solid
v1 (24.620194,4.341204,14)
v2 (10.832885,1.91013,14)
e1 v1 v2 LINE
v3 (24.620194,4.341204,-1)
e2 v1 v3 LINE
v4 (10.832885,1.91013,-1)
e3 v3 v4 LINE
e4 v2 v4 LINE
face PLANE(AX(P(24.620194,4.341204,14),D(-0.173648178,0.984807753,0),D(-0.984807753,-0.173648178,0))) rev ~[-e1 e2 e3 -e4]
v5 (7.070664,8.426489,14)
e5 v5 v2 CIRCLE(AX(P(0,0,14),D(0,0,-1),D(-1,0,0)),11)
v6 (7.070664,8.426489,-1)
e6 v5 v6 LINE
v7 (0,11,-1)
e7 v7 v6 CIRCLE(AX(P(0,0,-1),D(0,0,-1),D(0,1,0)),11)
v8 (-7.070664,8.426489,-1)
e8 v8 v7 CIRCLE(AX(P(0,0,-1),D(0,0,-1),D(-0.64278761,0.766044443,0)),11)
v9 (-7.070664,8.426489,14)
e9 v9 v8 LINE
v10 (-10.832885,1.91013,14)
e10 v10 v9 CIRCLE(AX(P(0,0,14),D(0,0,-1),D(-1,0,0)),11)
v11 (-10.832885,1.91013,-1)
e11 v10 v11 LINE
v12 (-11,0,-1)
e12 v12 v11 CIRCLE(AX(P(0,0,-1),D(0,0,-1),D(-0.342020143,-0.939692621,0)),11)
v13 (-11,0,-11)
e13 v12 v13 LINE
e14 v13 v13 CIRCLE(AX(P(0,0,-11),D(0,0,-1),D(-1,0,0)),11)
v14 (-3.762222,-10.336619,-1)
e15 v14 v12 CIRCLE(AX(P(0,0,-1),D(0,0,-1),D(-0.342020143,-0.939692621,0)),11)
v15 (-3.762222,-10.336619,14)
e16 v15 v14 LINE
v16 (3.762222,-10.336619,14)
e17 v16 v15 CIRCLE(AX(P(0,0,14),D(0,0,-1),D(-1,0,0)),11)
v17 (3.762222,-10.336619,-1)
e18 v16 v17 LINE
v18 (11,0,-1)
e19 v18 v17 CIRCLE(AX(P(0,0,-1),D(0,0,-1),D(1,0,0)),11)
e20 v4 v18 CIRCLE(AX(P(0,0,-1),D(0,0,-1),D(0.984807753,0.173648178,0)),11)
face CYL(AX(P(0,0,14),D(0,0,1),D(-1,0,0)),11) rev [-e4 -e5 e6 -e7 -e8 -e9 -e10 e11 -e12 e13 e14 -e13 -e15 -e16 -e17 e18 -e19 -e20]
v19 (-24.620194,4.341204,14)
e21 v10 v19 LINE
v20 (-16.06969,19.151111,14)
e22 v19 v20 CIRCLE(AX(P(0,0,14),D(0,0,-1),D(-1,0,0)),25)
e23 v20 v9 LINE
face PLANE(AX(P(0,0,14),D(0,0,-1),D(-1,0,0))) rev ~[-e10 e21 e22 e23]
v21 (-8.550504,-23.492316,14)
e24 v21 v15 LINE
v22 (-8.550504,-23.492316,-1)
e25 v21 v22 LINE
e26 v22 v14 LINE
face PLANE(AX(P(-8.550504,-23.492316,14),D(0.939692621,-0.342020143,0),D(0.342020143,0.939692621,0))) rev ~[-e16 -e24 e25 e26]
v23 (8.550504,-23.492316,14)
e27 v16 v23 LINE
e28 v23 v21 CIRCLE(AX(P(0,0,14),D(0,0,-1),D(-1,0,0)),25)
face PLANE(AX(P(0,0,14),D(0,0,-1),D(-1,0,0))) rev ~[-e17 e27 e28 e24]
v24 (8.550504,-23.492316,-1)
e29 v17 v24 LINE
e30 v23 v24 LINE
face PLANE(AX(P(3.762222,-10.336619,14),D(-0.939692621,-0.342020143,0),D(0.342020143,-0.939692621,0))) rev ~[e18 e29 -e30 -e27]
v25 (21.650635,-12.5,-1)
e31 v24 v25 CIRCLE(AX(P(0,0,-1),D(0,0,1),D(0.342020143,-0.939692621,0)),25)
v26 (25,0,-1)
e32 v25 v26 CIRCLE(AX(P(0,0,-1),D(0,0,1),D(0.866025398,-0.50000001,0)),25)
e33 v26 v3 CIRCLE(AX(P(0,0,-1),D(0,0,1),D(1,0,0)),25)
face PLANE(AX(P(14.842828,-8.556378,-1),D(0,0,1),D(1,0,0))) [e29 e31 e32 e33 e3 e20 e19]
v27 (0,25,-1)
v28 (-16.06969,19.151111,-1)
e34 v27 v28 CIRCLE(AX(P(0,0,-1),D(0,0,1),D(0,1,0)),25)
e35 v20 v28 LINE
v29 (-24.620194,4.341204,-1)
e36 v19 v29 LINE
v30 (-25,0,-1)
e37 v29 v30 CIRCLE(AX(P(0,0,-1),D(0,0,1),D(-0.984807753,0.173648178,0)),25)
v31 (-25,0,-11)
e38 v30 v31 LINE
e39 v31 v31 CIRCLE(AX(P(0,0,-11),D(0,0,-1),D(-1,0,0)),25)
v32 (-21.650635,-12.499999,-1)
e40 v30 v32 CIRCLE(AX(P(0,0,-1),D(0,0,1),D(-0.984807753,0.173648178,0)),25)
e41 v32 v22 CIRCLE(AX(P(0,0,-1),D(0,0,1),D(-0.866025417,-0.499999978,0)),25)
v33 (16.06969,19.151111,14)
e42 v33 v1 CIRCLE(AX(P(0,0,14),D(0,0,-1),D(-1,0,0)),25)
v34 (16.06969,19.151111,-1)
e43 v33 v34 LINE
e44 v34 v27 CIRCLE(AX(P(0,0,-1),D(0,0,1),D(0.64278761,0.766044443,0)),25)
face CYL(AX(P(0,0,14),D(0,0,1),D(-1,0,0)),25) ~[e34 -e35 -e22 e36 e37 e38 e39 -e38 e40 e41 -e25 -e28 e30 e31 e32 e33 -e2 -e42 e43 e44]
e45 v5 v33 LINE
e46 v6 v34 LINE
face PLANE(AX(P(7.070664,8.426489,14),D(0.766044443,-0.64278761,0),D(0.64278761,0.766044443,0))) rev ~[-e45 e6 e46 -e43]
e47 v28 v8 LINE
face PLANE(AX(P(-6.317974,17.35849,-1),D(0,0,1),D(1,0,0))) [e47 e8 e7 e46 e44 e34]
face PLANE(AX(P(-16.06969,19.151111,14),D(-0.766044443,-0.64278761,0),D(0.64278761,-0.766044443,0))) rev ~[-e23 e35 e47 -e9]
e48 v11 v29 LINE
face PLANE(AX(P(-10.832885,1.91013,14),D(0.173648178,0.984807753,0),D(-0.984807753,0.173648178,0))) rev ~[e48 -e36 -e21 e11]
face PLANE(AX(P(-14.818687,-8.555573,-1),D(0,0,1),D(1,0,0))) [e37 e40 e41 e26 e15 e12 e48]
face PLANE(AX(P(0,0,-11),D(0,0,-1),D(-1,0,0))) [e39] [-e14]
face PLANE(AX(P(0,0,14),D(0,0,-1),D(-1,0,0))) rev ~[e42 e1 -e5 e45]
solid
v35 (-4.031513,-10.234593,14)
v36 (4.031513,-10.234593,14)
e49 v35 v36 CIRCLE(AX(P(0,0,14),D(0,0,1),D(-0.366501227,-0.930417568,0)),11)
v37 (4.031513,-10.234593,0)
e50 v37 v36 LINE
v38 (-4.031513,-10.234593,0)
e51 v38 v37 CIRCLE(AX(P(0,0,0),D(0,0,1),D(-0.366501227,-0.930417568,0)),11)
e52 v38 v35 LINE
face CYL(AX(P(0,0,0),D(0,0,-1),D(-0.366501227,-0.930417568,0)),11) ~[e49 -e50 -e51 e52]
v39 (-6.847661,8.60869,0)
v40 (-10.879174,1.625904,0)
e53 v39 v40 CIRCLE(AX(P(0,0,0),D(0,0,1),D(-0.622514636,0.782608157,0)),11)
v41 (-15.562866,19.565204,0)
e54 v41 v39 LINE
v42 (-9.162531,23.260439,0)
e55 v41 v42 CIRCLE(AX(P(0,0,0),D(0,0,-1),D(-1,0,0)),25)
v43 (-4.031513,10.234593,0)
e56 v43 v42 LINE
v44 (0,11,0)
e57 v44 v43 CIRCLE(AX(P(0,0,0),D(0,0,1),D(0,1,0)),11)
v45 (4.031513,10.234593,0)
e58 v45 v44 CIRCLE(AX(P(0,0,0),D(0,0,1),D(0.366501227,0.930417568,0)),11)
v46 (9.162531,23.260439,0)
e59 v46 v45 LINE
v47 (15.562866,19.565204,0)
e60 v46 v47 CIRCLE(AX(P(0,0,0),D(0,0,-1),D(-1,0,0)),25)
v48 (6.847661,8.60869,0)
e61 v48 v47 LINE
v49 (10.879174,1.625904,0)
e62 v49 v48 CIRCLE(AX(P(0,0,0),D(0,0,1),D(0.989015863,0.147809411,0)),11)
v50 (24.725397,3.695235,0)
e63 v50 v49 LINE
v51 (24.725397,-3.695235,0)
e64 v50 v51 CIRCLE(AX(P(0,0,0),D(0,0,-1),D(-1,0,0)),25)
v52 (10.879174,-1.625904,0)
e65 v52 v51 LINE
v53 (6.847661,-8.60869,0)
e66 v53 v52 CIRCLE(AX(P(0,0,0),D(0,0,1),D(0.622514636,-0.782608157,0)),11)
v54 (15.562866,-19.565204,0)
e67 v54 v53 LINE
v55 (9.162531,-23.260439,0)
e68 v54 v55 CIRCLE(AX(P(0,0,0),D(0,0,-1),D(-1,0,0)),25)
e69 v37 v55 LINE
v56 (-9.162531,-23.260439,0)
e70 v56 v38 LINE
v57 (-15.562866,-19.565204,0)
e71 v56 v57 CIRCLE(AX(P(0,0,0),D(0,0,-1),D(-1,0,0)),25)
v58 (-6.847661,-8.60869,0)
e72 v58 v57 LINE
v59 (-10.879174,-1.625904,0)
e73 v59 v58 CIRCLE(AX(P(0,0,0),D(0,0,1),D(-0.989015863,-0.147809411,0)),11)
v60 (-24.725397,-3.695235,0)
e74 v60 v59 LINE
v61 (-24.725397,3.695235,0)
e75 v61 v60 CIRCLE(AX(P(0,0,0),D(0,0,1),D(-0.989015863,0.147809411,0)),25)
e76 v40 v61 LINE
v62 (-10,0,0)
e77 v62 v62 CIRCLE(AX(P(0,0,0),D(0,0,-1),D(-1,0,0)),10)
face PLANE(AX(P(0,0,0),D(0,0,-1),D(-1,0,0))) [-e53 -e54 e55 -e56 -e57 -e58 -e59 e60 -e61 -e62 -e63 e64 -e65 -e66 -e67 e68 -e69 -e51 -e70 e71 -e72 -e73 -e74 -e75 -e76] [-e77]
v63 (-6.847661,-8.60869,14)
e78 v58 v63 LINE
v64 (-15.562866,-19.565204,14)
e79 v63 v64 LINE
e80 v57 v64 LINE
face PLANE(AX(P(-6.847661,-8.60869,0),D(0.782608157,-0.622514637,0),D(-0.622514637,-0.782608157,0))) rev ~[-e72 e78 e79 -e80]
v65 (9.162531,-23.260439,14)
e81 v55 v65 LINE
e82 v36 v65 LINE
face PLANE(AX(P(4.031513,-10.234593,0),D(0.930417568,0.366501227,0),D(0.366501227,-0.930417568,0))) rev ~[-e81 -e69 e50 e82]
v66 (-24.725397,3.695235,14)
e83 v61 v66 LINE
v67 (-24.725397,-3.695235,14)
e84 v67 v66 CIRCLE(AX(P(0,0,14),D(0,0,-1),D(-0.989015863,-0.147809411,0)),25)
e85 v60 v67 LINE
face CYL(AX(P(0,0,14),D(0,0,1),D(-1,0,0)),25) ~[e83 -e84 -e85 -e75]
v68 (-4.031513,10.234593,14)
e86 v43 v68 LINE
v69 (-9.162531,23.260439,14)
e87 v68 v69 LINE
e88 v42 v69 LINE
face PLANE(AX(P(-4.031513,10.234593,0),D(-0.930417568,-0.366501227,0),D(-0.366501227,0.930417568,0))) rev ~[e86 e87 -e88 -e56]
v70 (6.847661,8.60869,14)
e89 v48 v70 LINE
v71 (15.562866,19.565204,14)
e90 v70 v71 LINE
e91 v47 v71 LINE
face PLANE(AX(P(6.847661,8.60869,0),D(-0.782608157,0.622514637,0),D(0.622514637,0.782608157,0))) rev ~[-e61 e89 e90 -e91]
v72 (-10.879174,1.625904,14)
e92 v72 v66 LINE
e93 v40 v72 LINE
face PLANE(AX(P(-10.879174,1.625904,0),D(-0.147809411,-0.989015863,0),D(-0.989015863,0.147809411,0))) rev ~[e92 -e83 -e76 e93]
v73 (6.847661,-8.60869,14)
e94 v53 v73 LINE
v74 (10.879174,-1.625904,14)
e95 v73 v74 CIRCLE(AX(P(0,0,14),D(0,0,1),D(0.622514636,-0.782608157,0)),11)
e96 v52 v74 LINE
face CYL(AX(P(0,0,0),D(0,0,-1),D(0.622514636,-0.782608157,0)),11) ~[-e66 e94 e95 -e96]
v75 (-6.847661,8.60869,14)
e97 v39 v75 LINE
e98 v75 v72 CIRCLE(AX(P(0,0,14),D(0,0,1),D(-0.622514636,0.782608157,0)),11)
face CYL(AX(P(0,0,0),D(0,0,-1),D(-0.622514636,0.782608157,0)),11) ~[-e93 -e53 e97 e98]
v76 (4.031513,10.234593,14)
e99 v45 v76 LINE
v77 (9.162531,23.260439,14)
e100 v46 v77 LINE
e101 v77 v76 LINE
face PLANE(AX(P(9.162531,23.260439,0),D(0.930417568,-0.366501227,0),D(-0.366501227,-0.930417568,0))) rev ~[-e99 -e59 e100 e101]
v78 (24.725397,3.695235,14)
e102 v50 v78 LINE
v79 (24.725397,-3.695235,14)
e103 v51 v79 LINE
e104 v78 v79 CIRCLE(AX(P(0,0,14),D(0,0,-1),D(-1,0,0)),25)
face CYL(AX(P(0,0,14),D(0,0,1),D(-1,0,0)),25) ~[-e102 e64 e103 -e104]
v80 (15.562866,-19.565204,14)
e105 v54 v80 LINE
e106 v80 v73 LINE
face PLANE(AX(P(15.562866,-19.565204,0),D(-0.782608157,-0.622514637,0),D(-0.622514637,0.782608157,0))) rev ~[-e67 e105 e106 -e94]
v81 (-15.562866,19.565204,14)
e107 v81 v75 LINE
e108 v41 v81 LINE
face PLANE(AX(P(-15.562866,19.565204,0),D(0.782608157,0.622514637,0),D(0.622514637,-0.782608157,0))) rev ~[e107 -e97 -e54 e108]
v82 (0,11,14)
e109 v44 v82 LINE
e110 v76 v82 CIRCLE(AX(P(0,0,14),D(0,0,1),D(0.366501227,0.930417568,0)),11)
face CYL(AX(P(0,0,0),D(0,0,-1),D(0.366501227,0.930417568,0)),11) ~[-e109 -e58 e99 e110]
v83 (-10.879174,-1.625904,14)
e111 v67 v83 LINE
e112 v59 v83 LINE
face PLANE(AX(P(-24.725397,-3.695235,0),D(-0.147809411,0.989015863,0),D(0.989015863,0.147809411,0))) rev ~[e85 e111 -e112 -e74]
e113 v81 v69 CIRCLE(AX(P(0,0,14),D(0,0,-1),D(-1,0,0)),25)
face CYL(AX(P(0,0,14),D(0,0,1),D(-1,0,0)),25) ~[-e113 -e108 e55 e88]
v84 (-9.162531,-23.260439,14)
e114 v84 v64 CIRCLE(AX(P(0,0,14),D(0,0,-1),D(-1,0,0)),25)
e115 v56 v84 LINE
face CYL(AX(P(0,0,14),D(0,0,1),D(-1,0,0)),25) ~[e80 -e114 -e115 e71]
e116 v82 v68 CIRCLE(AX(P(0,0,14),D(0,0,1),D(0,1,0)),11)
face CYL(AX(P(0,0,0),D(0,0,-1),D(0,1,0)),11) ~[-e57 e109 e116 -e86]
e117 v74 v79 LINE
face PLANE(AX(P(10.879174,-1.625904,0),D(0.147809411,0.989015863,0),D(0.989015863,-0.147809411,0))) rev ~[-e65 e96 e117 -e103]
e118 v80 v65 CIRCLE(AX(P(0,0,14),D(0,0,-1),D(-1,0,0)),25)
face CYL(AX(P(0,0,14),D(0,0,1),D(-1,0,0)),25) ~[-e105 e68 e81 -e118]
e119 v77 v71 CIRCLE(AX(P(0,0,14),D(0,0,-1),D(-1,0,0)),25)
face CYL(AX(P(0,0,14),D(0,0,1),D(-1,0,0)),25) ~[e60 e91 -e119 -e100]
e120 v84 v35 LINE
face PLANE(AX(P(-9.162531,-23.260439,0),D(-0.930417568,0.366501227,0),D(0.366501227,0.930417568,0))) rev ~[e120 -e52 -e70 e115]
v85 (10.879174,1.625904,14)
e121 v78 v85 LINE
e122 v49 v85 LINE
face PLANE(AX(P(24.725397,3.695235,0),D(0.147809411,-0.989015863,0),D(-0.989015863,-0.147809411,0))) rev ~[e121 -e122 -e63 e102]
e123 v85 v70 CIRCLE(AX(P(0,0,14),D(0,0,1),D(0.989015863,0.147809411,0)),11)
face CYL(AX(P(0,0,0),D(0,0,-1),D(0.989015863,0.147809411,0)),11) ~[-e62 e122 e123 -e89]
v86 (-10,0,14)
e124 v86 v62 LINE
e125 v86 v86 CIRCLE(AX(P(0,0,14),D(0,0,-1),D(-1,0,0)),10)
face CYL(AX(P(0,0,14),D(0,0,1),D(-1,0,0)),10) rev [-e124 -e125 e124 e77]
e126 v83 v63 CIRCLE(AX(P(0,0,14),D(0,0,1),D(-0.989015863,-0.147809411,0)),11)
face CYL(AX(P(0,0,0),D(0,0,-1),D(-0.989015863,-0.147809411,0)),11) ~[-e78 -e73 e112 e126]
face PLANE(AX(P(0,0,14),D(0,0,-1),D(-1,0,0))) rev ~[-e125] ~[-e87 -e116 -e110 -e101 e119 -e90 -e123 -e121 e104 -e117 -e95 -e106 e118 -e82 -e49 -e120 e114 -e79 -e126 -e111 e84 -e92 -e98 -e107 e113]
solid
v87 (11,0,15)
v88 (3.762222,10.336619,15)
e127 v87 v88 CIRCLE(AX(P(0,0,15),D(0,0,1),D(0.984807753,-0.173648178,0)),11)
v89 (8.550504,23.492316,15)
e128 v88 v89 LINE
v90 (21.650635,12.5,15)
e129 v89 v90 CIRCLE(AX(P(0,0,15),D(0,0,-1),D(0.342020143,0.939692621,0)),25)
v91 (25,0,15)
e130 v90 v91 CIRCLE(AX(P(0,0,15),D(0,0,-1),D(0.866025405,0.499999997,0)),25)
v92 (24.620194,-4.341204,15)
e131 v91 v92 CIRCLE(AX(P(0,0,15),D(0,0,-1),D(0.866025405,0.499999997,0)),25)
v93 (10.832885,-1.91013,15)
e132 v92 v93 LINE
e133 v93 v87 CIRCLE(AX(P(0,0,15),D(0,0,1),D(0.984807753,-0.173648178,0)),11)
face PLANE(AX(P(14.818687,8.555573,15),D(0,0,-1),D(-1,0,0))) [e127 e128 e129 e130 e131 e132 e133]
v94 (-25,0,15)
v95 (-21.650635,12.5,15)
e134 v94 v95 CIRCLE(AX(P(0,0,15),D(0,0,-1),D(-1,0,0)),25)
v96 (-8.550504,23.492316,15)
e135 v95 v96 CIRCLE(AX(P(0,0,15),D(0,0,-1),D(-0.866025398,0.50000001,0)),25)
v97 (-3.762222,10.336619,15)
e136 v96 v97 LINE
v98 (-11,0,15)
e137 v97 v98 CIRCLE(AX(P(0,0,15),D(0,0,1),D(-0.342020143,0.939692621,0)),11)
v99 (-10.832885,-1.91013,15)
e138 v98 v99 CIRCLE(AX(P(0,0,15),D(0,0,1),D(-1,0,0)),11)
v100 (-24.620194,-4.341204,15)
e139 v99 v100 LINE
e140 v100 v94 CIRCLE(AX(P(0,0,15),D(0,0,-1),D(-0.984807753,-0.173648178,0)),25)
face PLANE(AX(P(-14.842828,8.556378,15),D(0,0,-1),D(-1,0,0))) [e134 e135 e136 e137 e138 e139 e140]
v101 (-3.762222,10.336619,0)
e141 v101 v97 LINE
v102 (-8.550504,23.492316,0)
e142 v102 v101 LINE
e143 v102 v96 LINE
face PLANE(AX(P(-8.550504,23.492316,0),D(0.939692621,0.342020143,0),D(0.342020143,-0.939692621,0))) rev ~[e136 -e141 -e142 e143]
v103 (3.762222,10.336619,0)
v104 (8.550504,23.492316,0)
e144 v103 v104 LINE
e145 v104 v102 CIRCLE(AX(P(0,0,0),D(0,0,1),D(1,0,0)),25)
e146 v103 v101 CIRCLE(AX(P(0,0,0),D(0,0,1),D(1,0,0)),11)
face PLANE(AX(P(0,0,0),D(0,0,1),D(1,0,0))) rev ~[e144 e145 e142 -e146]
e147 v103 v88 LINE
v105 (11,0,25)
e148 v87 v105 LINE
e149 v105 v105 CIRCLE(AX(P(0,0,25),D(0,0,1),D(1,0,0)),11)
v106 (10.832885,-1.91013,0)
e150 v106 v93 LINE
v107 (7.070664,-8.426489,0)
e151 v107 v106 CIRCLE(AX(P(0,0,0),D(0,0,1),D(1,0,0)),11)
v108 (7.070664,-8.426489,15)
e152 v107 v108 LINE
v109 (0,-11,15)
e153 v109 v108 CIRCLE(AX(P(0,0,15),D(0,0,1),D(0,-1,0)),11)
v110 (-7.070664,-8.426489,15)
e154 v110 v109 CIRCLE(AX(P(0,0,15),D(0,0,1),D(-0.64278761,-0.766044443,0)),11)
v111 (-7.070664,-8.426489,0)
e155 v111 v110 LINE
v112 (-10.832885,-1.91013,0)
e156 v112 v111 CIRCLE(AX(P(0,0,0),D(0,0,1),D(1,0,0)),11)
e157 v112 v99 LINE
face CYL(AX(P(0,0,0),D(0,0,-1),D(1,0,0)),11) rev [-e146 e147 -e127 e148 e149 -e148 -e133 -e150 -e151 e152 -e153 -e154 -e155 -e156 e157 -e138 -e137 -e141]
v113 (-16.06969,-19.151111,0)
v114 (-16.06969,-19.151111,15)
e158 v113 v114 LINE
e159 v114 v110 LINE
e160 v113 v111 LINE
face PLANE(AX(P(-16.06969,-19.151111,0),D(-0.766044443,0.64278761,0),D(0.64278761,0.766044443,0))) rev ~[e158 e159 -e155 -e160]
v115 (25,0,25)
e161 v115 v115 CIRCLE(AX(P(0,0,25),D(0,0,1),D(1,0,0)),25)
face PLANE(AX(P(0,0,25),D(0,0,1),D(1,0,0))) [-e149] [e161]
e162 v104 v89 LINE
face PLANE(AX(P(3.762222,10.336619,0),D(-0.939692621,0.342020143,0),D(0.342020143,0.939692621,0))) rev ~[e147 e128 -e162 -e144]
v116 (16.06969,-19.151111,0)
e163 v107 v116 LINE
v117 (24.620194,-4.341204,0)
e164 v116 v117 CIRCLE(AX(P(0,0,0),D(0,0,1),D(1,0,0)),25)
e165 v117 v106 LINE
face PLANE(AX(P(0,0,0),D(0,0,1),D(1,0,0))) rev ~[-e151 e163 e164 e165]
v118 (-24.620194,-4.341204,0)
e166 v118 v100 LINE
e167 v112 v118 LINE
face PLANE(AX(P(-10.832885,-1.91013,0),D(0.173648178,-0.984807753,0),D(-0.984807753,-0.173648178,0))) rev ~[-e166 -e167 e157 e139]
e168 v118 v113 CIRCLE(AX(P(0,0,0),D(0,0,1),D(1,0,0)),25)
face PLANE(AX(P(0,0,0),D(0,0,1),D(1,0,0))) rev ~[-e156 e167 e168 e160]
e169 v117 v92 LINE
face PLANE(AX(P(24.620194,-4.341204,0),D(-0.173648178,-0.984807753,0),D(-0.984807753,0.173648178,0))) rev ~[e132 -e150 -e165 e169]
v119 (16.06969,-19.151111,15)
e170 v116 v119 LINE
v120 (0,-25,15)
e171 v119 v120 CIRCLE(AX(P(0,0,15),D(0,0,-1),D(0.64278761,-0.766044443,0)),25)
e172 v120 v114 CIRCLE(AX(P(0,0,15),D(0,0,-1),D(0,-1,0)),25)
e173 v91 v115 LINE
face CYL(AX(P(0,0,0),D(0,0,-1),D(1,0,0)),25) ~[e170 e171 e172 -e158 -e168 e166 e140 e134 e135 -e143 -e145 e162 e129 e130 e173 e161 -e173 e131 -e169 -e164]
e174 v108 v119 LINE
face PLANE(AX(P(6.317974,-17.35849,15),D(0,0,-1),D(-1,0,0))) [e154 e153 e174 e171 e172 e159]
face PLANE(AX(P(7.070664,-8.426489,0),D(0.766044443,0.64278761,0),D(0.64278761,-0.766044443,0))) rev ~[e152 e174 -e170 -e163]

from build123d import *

# Parameters (mm, degrees)
SKETCH_1_R          = 25
SKETCH_1_R_2        = 11
EXTRUDE_1_DEPTH     = 25
CUT_EXTRUDE_1_DEPTH = 15
SKETCH_3_R          = 25
SKETCH_3_R_2        = 11
EXTRUDE_3_DEPTH     = 25
CUT_EXTRUDE_2_DEPTH = 15
SKETCH_5_R          = 25
SKETCH_5_R_2        = 10
EXTRUDE_5_DEPTH     = 14
CUT_EXTRUDE_5_DEPTH = 14


with BuildPart() as part:
    # 草图1 → 凸台-拉伸1 (new body)
    with BuildSketch(Plane.XY):
        Circle(SKETCH_1_R)
        Circle(SKETCH_1_R_2, mode=Mode.SUBTRACT)
    extrude(amount=EXTRUDE_1_DEPTH)

    # 草图2 → 切除-拉伸1 (cut)
    with BuildSketch(Plane(origin=(0, 0, 0), x_dir=(-1, 0, 0), z_dir=(0, 0, -1))):
        with BuildLine():
            Line((-24.620193825, -4.341204442), (-10.832885283, -1.910129954))
            ThreePointArc((-10.832885283, -1.910129954), (-9.526279442, 5.5), (-3.762221577, 10.336618829))
            Line((-3.762221577, 10.336618829), (-8.550503583, 23.49231552))
            ThreePointArc((-8.550503583, 23.49231552), (-16.069690273, 19.151111052), (-21.650635135, 12.49999993))
            ThreePointArc((-21.650635135, 12.49999993), (-24.620193832, 4.341204402), (-24.620193825, -4.341204442))
        make_face()
        with BuildLine():
            Line((8.550503583, 23.49231552), (3.762221577, 10.336618829))
            ThreePointArc((3.762221577, 10.336618829), (9.010672487, 6.3093408), (11, 0))
            ThreePointArc((11, 0), (10.958141679, -0.95871317), (10.832885283, -1.910129954))
            Line((10.832885283, -1.910129954), (24.620193825, -4.341204442))
            ThreePointArc((24.620193825, -4.341204442), (24.904867452, -2.178893569), (25, 0))
            ThreePointArc((25, 0), (24.148145619, 6.470476269), (21.650634949, 12.500000253))
            ThreePointArc((21.650634949, 12.500000253), (16.06969013, 19.151111172), (8.550503583, 23.49231552))
        make_face()
        with BuildLine():
            ThreePointArc((0, -11), (-3.762221577, -10.336618829), (-7.070663707, -8.426488874))
            Line((-7.070663707, -8.426488874), (-16.069690242, -19.151111078))
            ThreePointArc((-16.069690242, -19.151111078), (-8.550503583, -23.49231552), (0, -25))
            Line((0, -25), (0, -11))
        make_face()
        with BuildLine():
            Line((16.069690242, -19.151111078), (7.070663707, -8.426488874))
            ThreePointArc((7.070663707, -8.426488874), (3.762221577, -10.336618829), (0, -11))
            Line((0, -11), (0, -25))
            ThreePointArc((0, -25), (8.550503583, -23.49231552), (16.069690242, -19.151111078))
        make_face()
    extrude(amount=-CUT_EXTRUDE_1_DEPTH, mode=Mode.SUBTRACT)


with BuildPart() as body_2:
    # 草图3 → 凸台-拉伸3 (new body)
    with BuildSketch(Plane(origin=(0, 0, 14), x_dir=(-1, 0, 0), z_dir=(0, 0, -1))):
        Circle(SKETCH_3_R)
        Circle(SKETCH_3_R_2, mode=Mode.SUBTRACT)
    extrude(amount=EXTRUDE_3_DEPTH)

    # 草图4 → 切除-拉伸2 (cut)
    with BuildSketch(Plane.XY.offset(14)):
        with BuildLine():
            Line((-16.069690242, 19.151111078), (-7.070663707, 8.426488874))
            ThreePointArc((-7.070663707, 8.426488874), (-3.762221577, 10.336618829), (0, 11))
            Line((0, 11), (0, 25))
            ThreePointArc((0, 25), (-8.550503583, 23.49231552), (-16.069690242, 19.151111078))
        make_face()
        with BuildLine():
            ThreePointArc((0, 11), (3.762221577, 10.336618829), (7.070663707, 8.426488874))
            Line((7.070663707, 8.426488874), (16.069690242, 19.151111078))
            ThreePointArc((16.069690242, 19.151111078), (8.550503583, 23.49231552), (0, 25))
            Line((0, 25), (0, 11))
        make_face()
        with BuildLine():
            Line((24.620193825, 4.341204442), (10.832885283, 1.910129954))
            ThreePointArc((10.832885283, 1.910129954), (10.958141679, 0.95871317), (11, 0))
            ThreePointArc((11, 0), (9.010672487, -6.3093408), (3.762221577, -10.336618829))
            Line((3.762221577, -10.336618829), (8.550503583, -23.49231552))
            ThreePointArc((8.550503583, -23.49231552), (16.06969013, -19.151111172), (21.650634948, -12.500000253))
            ThreePointArc((21.650634948, -12.500000253), (24.148145619, -6.470476269), (25, 0))
            ThreePointArc((25, 0), (24.904867452, 2.178893569), (24.620193825, 4.341204442))
        make_face()
        with BuildLine():
            Line((-8.550503583, -23.49231552), (-3.762221577, -10.336618829))
            ThreePointArc((-3.762221577, -10.336618829), (-9.526279442, -5.5), (-10.832885283, 1.910129954))
            Line((-10.832885283, 1.910129954), (-24.620193825, 4.341204442))
            ThreePointArc((-24.620193825, 4.341204442), (-24.620193881, -4.341204125), (-21.650635416, -12.499999443))
            ThreePointArc((-21.650635416, -12.499999443), (-16.069690489, -19.151110871), (-8.550503583, -23.49231552))
        make_face()
    extrude(amount=-CUT_EXTRUDE_2_DEPTH, mode=Mode.SUBTRACT)


with BuildPart() as body_3:
    # 草图5 → 凸台-拉伸5 (new body)
    with BuildSketch(Plane(origin=(0, 0, 14), x_dir=(-1, 0, 0), z_dir=(0, 0, -1))):
        Circle(SKETCH_5_R)
        Circle(SKETCH_5_R_2, mode=Mode.SUBTRACT)
    extrude(amount=EXTRUDE_5_DEPTH)

    # 草图6 → 切除-拉伸5 (cut)
    with BuildSketch(Plane(origin=(0, 0, 0), x_dir=(-1, 0, 0), z_dir=(0, 0, -1))):
        with BuildLine():
            Line((-24.725396584, 3.695235278), (-10.879174497, 1.625903522))
            ThreePointArc((-10.879174497, 1.625903522), (-9.526279442, 5.5), (-6.847661003, 8.608689725))
            Line((-6.847661003, 8.608689725), (-15.562865916, 19.565203921))
            ThreePointArc((-15.562865916, 19.565203921), (-18.939124752, 16.318993647), (-21.650635312, 12.499999623))
            ThreePointArc((-21.650635312, 12.499999623), (-23.602225582, 8.242265926), (-24.725396584, 3.695235278))
        make_face()
        with BuildLine():
            Line((-9.162530668, 23.2604392), (-4.031513494, 10.234593248))
            ThreePointArc((-4.031513494, 10.234593248), (-2.051764396, 10.806954375), (0, 11))
            Line((0, 11), (0, 25))
            ThreePointArc((0, 25), (-4.6631009, 24.561259943), (-9.162530668, 23.2604392))
        make_face()
        with BuildLine():
            ThreePointArc((0, 11), (2.051764396, 10.806954375), (4.031513494, 10.234593248))
            Line((4.031513494, 10.234593248), (9.162530668, 23.2604392))
            ThreePointArc((9.162530668, 23.2604392), (4.6631009, 24.561259943), (0, 25))
            Line((0, 25), (0, 11))
        make_face()
        with BuildLine():
            Line((15.562865916, 19.565203921), (6.847661003, 8.608689725))
            ThreePointArc((6.847661003, 8.608689725), (9.526279442, 5.5), (10.879174497, 1.625903522))
            Line((10.879174497, 1.625903522), (24.725396584, 3.695235278))
            ThreePointArc((24.725396584, 3.695235278), (23.60222559, 8.242265901), (21.650635338, 12.499999578))
            ThreePointArc((21.650635338, 12.499999578), (18.939124769, 16.318993627), (15.562865916, 19.565203921))
        make_face()
        with BuildLine():
            Line((24.725396584, -3.695235278), (10.879174497, -1.625903522))
            ThreePointArc((10.879174497, -1.625903522), (9.526279442, -5.5), (6.847661003, -8.608689725))
            Line((6.847661003, -8.608689725), (15.562865916, -19.565203921))
            ThreePointArc((15.562865916, -19.565203921), (18.939124491, -16.31899395), (21.650634913, -12.500000315))
            ThreePointArc((21.650634913, -12.500000315), (23.60222545, -8.242266303), (24.725396584, -3.695235278))
        make_face()
        with BuildLine():
            Line((9.162530668, -23.2604392), (4.031513494, -10.234593248))
            ThreePointArc((4.031513494, -10.234593248), (0, -11), (-4.031513494, -10.234593248))
            Line((-4.031513494, -10.234593248), (-9.162530668, -23.2604392))
            ThreePointArc((-9.162530668, -23.2604392), (-4.6631009, -24.561259943), (0, -25))
            ThreePointArc((0, -25), (4.6631009, -24.561259943), (9.162530668, -23.2604392))
        make_face()
        with BuildLine():
            Line((-15.562865916, -19.565203921), (-6.847661003, -8.608689725))
            ThreePointArc((-6.847661003, -8.608689725), (-9.526279442, -5.5), (-10.879174497, -1.625903522))
            Line((-10.879174497, -1.625903522), (-24.725396584, -3.695235278))
            ThreePointArc((-24.725396584, -3.695235278), (-23.602225599, -8.242265877), (-21.650635365, -12.499999532))
            ThreePointArc((-21.650635365, -12.499999532), (-18.939124786, -16.318993607), (-15.562865916, -19.565203921))
        make_face()
    extrude(amount=-CUT_EXTRUDE_5_DEPTH, mode=Mode.SUBTRACT)


solid = Compound([part.part, body_2.part, body_3.part])
